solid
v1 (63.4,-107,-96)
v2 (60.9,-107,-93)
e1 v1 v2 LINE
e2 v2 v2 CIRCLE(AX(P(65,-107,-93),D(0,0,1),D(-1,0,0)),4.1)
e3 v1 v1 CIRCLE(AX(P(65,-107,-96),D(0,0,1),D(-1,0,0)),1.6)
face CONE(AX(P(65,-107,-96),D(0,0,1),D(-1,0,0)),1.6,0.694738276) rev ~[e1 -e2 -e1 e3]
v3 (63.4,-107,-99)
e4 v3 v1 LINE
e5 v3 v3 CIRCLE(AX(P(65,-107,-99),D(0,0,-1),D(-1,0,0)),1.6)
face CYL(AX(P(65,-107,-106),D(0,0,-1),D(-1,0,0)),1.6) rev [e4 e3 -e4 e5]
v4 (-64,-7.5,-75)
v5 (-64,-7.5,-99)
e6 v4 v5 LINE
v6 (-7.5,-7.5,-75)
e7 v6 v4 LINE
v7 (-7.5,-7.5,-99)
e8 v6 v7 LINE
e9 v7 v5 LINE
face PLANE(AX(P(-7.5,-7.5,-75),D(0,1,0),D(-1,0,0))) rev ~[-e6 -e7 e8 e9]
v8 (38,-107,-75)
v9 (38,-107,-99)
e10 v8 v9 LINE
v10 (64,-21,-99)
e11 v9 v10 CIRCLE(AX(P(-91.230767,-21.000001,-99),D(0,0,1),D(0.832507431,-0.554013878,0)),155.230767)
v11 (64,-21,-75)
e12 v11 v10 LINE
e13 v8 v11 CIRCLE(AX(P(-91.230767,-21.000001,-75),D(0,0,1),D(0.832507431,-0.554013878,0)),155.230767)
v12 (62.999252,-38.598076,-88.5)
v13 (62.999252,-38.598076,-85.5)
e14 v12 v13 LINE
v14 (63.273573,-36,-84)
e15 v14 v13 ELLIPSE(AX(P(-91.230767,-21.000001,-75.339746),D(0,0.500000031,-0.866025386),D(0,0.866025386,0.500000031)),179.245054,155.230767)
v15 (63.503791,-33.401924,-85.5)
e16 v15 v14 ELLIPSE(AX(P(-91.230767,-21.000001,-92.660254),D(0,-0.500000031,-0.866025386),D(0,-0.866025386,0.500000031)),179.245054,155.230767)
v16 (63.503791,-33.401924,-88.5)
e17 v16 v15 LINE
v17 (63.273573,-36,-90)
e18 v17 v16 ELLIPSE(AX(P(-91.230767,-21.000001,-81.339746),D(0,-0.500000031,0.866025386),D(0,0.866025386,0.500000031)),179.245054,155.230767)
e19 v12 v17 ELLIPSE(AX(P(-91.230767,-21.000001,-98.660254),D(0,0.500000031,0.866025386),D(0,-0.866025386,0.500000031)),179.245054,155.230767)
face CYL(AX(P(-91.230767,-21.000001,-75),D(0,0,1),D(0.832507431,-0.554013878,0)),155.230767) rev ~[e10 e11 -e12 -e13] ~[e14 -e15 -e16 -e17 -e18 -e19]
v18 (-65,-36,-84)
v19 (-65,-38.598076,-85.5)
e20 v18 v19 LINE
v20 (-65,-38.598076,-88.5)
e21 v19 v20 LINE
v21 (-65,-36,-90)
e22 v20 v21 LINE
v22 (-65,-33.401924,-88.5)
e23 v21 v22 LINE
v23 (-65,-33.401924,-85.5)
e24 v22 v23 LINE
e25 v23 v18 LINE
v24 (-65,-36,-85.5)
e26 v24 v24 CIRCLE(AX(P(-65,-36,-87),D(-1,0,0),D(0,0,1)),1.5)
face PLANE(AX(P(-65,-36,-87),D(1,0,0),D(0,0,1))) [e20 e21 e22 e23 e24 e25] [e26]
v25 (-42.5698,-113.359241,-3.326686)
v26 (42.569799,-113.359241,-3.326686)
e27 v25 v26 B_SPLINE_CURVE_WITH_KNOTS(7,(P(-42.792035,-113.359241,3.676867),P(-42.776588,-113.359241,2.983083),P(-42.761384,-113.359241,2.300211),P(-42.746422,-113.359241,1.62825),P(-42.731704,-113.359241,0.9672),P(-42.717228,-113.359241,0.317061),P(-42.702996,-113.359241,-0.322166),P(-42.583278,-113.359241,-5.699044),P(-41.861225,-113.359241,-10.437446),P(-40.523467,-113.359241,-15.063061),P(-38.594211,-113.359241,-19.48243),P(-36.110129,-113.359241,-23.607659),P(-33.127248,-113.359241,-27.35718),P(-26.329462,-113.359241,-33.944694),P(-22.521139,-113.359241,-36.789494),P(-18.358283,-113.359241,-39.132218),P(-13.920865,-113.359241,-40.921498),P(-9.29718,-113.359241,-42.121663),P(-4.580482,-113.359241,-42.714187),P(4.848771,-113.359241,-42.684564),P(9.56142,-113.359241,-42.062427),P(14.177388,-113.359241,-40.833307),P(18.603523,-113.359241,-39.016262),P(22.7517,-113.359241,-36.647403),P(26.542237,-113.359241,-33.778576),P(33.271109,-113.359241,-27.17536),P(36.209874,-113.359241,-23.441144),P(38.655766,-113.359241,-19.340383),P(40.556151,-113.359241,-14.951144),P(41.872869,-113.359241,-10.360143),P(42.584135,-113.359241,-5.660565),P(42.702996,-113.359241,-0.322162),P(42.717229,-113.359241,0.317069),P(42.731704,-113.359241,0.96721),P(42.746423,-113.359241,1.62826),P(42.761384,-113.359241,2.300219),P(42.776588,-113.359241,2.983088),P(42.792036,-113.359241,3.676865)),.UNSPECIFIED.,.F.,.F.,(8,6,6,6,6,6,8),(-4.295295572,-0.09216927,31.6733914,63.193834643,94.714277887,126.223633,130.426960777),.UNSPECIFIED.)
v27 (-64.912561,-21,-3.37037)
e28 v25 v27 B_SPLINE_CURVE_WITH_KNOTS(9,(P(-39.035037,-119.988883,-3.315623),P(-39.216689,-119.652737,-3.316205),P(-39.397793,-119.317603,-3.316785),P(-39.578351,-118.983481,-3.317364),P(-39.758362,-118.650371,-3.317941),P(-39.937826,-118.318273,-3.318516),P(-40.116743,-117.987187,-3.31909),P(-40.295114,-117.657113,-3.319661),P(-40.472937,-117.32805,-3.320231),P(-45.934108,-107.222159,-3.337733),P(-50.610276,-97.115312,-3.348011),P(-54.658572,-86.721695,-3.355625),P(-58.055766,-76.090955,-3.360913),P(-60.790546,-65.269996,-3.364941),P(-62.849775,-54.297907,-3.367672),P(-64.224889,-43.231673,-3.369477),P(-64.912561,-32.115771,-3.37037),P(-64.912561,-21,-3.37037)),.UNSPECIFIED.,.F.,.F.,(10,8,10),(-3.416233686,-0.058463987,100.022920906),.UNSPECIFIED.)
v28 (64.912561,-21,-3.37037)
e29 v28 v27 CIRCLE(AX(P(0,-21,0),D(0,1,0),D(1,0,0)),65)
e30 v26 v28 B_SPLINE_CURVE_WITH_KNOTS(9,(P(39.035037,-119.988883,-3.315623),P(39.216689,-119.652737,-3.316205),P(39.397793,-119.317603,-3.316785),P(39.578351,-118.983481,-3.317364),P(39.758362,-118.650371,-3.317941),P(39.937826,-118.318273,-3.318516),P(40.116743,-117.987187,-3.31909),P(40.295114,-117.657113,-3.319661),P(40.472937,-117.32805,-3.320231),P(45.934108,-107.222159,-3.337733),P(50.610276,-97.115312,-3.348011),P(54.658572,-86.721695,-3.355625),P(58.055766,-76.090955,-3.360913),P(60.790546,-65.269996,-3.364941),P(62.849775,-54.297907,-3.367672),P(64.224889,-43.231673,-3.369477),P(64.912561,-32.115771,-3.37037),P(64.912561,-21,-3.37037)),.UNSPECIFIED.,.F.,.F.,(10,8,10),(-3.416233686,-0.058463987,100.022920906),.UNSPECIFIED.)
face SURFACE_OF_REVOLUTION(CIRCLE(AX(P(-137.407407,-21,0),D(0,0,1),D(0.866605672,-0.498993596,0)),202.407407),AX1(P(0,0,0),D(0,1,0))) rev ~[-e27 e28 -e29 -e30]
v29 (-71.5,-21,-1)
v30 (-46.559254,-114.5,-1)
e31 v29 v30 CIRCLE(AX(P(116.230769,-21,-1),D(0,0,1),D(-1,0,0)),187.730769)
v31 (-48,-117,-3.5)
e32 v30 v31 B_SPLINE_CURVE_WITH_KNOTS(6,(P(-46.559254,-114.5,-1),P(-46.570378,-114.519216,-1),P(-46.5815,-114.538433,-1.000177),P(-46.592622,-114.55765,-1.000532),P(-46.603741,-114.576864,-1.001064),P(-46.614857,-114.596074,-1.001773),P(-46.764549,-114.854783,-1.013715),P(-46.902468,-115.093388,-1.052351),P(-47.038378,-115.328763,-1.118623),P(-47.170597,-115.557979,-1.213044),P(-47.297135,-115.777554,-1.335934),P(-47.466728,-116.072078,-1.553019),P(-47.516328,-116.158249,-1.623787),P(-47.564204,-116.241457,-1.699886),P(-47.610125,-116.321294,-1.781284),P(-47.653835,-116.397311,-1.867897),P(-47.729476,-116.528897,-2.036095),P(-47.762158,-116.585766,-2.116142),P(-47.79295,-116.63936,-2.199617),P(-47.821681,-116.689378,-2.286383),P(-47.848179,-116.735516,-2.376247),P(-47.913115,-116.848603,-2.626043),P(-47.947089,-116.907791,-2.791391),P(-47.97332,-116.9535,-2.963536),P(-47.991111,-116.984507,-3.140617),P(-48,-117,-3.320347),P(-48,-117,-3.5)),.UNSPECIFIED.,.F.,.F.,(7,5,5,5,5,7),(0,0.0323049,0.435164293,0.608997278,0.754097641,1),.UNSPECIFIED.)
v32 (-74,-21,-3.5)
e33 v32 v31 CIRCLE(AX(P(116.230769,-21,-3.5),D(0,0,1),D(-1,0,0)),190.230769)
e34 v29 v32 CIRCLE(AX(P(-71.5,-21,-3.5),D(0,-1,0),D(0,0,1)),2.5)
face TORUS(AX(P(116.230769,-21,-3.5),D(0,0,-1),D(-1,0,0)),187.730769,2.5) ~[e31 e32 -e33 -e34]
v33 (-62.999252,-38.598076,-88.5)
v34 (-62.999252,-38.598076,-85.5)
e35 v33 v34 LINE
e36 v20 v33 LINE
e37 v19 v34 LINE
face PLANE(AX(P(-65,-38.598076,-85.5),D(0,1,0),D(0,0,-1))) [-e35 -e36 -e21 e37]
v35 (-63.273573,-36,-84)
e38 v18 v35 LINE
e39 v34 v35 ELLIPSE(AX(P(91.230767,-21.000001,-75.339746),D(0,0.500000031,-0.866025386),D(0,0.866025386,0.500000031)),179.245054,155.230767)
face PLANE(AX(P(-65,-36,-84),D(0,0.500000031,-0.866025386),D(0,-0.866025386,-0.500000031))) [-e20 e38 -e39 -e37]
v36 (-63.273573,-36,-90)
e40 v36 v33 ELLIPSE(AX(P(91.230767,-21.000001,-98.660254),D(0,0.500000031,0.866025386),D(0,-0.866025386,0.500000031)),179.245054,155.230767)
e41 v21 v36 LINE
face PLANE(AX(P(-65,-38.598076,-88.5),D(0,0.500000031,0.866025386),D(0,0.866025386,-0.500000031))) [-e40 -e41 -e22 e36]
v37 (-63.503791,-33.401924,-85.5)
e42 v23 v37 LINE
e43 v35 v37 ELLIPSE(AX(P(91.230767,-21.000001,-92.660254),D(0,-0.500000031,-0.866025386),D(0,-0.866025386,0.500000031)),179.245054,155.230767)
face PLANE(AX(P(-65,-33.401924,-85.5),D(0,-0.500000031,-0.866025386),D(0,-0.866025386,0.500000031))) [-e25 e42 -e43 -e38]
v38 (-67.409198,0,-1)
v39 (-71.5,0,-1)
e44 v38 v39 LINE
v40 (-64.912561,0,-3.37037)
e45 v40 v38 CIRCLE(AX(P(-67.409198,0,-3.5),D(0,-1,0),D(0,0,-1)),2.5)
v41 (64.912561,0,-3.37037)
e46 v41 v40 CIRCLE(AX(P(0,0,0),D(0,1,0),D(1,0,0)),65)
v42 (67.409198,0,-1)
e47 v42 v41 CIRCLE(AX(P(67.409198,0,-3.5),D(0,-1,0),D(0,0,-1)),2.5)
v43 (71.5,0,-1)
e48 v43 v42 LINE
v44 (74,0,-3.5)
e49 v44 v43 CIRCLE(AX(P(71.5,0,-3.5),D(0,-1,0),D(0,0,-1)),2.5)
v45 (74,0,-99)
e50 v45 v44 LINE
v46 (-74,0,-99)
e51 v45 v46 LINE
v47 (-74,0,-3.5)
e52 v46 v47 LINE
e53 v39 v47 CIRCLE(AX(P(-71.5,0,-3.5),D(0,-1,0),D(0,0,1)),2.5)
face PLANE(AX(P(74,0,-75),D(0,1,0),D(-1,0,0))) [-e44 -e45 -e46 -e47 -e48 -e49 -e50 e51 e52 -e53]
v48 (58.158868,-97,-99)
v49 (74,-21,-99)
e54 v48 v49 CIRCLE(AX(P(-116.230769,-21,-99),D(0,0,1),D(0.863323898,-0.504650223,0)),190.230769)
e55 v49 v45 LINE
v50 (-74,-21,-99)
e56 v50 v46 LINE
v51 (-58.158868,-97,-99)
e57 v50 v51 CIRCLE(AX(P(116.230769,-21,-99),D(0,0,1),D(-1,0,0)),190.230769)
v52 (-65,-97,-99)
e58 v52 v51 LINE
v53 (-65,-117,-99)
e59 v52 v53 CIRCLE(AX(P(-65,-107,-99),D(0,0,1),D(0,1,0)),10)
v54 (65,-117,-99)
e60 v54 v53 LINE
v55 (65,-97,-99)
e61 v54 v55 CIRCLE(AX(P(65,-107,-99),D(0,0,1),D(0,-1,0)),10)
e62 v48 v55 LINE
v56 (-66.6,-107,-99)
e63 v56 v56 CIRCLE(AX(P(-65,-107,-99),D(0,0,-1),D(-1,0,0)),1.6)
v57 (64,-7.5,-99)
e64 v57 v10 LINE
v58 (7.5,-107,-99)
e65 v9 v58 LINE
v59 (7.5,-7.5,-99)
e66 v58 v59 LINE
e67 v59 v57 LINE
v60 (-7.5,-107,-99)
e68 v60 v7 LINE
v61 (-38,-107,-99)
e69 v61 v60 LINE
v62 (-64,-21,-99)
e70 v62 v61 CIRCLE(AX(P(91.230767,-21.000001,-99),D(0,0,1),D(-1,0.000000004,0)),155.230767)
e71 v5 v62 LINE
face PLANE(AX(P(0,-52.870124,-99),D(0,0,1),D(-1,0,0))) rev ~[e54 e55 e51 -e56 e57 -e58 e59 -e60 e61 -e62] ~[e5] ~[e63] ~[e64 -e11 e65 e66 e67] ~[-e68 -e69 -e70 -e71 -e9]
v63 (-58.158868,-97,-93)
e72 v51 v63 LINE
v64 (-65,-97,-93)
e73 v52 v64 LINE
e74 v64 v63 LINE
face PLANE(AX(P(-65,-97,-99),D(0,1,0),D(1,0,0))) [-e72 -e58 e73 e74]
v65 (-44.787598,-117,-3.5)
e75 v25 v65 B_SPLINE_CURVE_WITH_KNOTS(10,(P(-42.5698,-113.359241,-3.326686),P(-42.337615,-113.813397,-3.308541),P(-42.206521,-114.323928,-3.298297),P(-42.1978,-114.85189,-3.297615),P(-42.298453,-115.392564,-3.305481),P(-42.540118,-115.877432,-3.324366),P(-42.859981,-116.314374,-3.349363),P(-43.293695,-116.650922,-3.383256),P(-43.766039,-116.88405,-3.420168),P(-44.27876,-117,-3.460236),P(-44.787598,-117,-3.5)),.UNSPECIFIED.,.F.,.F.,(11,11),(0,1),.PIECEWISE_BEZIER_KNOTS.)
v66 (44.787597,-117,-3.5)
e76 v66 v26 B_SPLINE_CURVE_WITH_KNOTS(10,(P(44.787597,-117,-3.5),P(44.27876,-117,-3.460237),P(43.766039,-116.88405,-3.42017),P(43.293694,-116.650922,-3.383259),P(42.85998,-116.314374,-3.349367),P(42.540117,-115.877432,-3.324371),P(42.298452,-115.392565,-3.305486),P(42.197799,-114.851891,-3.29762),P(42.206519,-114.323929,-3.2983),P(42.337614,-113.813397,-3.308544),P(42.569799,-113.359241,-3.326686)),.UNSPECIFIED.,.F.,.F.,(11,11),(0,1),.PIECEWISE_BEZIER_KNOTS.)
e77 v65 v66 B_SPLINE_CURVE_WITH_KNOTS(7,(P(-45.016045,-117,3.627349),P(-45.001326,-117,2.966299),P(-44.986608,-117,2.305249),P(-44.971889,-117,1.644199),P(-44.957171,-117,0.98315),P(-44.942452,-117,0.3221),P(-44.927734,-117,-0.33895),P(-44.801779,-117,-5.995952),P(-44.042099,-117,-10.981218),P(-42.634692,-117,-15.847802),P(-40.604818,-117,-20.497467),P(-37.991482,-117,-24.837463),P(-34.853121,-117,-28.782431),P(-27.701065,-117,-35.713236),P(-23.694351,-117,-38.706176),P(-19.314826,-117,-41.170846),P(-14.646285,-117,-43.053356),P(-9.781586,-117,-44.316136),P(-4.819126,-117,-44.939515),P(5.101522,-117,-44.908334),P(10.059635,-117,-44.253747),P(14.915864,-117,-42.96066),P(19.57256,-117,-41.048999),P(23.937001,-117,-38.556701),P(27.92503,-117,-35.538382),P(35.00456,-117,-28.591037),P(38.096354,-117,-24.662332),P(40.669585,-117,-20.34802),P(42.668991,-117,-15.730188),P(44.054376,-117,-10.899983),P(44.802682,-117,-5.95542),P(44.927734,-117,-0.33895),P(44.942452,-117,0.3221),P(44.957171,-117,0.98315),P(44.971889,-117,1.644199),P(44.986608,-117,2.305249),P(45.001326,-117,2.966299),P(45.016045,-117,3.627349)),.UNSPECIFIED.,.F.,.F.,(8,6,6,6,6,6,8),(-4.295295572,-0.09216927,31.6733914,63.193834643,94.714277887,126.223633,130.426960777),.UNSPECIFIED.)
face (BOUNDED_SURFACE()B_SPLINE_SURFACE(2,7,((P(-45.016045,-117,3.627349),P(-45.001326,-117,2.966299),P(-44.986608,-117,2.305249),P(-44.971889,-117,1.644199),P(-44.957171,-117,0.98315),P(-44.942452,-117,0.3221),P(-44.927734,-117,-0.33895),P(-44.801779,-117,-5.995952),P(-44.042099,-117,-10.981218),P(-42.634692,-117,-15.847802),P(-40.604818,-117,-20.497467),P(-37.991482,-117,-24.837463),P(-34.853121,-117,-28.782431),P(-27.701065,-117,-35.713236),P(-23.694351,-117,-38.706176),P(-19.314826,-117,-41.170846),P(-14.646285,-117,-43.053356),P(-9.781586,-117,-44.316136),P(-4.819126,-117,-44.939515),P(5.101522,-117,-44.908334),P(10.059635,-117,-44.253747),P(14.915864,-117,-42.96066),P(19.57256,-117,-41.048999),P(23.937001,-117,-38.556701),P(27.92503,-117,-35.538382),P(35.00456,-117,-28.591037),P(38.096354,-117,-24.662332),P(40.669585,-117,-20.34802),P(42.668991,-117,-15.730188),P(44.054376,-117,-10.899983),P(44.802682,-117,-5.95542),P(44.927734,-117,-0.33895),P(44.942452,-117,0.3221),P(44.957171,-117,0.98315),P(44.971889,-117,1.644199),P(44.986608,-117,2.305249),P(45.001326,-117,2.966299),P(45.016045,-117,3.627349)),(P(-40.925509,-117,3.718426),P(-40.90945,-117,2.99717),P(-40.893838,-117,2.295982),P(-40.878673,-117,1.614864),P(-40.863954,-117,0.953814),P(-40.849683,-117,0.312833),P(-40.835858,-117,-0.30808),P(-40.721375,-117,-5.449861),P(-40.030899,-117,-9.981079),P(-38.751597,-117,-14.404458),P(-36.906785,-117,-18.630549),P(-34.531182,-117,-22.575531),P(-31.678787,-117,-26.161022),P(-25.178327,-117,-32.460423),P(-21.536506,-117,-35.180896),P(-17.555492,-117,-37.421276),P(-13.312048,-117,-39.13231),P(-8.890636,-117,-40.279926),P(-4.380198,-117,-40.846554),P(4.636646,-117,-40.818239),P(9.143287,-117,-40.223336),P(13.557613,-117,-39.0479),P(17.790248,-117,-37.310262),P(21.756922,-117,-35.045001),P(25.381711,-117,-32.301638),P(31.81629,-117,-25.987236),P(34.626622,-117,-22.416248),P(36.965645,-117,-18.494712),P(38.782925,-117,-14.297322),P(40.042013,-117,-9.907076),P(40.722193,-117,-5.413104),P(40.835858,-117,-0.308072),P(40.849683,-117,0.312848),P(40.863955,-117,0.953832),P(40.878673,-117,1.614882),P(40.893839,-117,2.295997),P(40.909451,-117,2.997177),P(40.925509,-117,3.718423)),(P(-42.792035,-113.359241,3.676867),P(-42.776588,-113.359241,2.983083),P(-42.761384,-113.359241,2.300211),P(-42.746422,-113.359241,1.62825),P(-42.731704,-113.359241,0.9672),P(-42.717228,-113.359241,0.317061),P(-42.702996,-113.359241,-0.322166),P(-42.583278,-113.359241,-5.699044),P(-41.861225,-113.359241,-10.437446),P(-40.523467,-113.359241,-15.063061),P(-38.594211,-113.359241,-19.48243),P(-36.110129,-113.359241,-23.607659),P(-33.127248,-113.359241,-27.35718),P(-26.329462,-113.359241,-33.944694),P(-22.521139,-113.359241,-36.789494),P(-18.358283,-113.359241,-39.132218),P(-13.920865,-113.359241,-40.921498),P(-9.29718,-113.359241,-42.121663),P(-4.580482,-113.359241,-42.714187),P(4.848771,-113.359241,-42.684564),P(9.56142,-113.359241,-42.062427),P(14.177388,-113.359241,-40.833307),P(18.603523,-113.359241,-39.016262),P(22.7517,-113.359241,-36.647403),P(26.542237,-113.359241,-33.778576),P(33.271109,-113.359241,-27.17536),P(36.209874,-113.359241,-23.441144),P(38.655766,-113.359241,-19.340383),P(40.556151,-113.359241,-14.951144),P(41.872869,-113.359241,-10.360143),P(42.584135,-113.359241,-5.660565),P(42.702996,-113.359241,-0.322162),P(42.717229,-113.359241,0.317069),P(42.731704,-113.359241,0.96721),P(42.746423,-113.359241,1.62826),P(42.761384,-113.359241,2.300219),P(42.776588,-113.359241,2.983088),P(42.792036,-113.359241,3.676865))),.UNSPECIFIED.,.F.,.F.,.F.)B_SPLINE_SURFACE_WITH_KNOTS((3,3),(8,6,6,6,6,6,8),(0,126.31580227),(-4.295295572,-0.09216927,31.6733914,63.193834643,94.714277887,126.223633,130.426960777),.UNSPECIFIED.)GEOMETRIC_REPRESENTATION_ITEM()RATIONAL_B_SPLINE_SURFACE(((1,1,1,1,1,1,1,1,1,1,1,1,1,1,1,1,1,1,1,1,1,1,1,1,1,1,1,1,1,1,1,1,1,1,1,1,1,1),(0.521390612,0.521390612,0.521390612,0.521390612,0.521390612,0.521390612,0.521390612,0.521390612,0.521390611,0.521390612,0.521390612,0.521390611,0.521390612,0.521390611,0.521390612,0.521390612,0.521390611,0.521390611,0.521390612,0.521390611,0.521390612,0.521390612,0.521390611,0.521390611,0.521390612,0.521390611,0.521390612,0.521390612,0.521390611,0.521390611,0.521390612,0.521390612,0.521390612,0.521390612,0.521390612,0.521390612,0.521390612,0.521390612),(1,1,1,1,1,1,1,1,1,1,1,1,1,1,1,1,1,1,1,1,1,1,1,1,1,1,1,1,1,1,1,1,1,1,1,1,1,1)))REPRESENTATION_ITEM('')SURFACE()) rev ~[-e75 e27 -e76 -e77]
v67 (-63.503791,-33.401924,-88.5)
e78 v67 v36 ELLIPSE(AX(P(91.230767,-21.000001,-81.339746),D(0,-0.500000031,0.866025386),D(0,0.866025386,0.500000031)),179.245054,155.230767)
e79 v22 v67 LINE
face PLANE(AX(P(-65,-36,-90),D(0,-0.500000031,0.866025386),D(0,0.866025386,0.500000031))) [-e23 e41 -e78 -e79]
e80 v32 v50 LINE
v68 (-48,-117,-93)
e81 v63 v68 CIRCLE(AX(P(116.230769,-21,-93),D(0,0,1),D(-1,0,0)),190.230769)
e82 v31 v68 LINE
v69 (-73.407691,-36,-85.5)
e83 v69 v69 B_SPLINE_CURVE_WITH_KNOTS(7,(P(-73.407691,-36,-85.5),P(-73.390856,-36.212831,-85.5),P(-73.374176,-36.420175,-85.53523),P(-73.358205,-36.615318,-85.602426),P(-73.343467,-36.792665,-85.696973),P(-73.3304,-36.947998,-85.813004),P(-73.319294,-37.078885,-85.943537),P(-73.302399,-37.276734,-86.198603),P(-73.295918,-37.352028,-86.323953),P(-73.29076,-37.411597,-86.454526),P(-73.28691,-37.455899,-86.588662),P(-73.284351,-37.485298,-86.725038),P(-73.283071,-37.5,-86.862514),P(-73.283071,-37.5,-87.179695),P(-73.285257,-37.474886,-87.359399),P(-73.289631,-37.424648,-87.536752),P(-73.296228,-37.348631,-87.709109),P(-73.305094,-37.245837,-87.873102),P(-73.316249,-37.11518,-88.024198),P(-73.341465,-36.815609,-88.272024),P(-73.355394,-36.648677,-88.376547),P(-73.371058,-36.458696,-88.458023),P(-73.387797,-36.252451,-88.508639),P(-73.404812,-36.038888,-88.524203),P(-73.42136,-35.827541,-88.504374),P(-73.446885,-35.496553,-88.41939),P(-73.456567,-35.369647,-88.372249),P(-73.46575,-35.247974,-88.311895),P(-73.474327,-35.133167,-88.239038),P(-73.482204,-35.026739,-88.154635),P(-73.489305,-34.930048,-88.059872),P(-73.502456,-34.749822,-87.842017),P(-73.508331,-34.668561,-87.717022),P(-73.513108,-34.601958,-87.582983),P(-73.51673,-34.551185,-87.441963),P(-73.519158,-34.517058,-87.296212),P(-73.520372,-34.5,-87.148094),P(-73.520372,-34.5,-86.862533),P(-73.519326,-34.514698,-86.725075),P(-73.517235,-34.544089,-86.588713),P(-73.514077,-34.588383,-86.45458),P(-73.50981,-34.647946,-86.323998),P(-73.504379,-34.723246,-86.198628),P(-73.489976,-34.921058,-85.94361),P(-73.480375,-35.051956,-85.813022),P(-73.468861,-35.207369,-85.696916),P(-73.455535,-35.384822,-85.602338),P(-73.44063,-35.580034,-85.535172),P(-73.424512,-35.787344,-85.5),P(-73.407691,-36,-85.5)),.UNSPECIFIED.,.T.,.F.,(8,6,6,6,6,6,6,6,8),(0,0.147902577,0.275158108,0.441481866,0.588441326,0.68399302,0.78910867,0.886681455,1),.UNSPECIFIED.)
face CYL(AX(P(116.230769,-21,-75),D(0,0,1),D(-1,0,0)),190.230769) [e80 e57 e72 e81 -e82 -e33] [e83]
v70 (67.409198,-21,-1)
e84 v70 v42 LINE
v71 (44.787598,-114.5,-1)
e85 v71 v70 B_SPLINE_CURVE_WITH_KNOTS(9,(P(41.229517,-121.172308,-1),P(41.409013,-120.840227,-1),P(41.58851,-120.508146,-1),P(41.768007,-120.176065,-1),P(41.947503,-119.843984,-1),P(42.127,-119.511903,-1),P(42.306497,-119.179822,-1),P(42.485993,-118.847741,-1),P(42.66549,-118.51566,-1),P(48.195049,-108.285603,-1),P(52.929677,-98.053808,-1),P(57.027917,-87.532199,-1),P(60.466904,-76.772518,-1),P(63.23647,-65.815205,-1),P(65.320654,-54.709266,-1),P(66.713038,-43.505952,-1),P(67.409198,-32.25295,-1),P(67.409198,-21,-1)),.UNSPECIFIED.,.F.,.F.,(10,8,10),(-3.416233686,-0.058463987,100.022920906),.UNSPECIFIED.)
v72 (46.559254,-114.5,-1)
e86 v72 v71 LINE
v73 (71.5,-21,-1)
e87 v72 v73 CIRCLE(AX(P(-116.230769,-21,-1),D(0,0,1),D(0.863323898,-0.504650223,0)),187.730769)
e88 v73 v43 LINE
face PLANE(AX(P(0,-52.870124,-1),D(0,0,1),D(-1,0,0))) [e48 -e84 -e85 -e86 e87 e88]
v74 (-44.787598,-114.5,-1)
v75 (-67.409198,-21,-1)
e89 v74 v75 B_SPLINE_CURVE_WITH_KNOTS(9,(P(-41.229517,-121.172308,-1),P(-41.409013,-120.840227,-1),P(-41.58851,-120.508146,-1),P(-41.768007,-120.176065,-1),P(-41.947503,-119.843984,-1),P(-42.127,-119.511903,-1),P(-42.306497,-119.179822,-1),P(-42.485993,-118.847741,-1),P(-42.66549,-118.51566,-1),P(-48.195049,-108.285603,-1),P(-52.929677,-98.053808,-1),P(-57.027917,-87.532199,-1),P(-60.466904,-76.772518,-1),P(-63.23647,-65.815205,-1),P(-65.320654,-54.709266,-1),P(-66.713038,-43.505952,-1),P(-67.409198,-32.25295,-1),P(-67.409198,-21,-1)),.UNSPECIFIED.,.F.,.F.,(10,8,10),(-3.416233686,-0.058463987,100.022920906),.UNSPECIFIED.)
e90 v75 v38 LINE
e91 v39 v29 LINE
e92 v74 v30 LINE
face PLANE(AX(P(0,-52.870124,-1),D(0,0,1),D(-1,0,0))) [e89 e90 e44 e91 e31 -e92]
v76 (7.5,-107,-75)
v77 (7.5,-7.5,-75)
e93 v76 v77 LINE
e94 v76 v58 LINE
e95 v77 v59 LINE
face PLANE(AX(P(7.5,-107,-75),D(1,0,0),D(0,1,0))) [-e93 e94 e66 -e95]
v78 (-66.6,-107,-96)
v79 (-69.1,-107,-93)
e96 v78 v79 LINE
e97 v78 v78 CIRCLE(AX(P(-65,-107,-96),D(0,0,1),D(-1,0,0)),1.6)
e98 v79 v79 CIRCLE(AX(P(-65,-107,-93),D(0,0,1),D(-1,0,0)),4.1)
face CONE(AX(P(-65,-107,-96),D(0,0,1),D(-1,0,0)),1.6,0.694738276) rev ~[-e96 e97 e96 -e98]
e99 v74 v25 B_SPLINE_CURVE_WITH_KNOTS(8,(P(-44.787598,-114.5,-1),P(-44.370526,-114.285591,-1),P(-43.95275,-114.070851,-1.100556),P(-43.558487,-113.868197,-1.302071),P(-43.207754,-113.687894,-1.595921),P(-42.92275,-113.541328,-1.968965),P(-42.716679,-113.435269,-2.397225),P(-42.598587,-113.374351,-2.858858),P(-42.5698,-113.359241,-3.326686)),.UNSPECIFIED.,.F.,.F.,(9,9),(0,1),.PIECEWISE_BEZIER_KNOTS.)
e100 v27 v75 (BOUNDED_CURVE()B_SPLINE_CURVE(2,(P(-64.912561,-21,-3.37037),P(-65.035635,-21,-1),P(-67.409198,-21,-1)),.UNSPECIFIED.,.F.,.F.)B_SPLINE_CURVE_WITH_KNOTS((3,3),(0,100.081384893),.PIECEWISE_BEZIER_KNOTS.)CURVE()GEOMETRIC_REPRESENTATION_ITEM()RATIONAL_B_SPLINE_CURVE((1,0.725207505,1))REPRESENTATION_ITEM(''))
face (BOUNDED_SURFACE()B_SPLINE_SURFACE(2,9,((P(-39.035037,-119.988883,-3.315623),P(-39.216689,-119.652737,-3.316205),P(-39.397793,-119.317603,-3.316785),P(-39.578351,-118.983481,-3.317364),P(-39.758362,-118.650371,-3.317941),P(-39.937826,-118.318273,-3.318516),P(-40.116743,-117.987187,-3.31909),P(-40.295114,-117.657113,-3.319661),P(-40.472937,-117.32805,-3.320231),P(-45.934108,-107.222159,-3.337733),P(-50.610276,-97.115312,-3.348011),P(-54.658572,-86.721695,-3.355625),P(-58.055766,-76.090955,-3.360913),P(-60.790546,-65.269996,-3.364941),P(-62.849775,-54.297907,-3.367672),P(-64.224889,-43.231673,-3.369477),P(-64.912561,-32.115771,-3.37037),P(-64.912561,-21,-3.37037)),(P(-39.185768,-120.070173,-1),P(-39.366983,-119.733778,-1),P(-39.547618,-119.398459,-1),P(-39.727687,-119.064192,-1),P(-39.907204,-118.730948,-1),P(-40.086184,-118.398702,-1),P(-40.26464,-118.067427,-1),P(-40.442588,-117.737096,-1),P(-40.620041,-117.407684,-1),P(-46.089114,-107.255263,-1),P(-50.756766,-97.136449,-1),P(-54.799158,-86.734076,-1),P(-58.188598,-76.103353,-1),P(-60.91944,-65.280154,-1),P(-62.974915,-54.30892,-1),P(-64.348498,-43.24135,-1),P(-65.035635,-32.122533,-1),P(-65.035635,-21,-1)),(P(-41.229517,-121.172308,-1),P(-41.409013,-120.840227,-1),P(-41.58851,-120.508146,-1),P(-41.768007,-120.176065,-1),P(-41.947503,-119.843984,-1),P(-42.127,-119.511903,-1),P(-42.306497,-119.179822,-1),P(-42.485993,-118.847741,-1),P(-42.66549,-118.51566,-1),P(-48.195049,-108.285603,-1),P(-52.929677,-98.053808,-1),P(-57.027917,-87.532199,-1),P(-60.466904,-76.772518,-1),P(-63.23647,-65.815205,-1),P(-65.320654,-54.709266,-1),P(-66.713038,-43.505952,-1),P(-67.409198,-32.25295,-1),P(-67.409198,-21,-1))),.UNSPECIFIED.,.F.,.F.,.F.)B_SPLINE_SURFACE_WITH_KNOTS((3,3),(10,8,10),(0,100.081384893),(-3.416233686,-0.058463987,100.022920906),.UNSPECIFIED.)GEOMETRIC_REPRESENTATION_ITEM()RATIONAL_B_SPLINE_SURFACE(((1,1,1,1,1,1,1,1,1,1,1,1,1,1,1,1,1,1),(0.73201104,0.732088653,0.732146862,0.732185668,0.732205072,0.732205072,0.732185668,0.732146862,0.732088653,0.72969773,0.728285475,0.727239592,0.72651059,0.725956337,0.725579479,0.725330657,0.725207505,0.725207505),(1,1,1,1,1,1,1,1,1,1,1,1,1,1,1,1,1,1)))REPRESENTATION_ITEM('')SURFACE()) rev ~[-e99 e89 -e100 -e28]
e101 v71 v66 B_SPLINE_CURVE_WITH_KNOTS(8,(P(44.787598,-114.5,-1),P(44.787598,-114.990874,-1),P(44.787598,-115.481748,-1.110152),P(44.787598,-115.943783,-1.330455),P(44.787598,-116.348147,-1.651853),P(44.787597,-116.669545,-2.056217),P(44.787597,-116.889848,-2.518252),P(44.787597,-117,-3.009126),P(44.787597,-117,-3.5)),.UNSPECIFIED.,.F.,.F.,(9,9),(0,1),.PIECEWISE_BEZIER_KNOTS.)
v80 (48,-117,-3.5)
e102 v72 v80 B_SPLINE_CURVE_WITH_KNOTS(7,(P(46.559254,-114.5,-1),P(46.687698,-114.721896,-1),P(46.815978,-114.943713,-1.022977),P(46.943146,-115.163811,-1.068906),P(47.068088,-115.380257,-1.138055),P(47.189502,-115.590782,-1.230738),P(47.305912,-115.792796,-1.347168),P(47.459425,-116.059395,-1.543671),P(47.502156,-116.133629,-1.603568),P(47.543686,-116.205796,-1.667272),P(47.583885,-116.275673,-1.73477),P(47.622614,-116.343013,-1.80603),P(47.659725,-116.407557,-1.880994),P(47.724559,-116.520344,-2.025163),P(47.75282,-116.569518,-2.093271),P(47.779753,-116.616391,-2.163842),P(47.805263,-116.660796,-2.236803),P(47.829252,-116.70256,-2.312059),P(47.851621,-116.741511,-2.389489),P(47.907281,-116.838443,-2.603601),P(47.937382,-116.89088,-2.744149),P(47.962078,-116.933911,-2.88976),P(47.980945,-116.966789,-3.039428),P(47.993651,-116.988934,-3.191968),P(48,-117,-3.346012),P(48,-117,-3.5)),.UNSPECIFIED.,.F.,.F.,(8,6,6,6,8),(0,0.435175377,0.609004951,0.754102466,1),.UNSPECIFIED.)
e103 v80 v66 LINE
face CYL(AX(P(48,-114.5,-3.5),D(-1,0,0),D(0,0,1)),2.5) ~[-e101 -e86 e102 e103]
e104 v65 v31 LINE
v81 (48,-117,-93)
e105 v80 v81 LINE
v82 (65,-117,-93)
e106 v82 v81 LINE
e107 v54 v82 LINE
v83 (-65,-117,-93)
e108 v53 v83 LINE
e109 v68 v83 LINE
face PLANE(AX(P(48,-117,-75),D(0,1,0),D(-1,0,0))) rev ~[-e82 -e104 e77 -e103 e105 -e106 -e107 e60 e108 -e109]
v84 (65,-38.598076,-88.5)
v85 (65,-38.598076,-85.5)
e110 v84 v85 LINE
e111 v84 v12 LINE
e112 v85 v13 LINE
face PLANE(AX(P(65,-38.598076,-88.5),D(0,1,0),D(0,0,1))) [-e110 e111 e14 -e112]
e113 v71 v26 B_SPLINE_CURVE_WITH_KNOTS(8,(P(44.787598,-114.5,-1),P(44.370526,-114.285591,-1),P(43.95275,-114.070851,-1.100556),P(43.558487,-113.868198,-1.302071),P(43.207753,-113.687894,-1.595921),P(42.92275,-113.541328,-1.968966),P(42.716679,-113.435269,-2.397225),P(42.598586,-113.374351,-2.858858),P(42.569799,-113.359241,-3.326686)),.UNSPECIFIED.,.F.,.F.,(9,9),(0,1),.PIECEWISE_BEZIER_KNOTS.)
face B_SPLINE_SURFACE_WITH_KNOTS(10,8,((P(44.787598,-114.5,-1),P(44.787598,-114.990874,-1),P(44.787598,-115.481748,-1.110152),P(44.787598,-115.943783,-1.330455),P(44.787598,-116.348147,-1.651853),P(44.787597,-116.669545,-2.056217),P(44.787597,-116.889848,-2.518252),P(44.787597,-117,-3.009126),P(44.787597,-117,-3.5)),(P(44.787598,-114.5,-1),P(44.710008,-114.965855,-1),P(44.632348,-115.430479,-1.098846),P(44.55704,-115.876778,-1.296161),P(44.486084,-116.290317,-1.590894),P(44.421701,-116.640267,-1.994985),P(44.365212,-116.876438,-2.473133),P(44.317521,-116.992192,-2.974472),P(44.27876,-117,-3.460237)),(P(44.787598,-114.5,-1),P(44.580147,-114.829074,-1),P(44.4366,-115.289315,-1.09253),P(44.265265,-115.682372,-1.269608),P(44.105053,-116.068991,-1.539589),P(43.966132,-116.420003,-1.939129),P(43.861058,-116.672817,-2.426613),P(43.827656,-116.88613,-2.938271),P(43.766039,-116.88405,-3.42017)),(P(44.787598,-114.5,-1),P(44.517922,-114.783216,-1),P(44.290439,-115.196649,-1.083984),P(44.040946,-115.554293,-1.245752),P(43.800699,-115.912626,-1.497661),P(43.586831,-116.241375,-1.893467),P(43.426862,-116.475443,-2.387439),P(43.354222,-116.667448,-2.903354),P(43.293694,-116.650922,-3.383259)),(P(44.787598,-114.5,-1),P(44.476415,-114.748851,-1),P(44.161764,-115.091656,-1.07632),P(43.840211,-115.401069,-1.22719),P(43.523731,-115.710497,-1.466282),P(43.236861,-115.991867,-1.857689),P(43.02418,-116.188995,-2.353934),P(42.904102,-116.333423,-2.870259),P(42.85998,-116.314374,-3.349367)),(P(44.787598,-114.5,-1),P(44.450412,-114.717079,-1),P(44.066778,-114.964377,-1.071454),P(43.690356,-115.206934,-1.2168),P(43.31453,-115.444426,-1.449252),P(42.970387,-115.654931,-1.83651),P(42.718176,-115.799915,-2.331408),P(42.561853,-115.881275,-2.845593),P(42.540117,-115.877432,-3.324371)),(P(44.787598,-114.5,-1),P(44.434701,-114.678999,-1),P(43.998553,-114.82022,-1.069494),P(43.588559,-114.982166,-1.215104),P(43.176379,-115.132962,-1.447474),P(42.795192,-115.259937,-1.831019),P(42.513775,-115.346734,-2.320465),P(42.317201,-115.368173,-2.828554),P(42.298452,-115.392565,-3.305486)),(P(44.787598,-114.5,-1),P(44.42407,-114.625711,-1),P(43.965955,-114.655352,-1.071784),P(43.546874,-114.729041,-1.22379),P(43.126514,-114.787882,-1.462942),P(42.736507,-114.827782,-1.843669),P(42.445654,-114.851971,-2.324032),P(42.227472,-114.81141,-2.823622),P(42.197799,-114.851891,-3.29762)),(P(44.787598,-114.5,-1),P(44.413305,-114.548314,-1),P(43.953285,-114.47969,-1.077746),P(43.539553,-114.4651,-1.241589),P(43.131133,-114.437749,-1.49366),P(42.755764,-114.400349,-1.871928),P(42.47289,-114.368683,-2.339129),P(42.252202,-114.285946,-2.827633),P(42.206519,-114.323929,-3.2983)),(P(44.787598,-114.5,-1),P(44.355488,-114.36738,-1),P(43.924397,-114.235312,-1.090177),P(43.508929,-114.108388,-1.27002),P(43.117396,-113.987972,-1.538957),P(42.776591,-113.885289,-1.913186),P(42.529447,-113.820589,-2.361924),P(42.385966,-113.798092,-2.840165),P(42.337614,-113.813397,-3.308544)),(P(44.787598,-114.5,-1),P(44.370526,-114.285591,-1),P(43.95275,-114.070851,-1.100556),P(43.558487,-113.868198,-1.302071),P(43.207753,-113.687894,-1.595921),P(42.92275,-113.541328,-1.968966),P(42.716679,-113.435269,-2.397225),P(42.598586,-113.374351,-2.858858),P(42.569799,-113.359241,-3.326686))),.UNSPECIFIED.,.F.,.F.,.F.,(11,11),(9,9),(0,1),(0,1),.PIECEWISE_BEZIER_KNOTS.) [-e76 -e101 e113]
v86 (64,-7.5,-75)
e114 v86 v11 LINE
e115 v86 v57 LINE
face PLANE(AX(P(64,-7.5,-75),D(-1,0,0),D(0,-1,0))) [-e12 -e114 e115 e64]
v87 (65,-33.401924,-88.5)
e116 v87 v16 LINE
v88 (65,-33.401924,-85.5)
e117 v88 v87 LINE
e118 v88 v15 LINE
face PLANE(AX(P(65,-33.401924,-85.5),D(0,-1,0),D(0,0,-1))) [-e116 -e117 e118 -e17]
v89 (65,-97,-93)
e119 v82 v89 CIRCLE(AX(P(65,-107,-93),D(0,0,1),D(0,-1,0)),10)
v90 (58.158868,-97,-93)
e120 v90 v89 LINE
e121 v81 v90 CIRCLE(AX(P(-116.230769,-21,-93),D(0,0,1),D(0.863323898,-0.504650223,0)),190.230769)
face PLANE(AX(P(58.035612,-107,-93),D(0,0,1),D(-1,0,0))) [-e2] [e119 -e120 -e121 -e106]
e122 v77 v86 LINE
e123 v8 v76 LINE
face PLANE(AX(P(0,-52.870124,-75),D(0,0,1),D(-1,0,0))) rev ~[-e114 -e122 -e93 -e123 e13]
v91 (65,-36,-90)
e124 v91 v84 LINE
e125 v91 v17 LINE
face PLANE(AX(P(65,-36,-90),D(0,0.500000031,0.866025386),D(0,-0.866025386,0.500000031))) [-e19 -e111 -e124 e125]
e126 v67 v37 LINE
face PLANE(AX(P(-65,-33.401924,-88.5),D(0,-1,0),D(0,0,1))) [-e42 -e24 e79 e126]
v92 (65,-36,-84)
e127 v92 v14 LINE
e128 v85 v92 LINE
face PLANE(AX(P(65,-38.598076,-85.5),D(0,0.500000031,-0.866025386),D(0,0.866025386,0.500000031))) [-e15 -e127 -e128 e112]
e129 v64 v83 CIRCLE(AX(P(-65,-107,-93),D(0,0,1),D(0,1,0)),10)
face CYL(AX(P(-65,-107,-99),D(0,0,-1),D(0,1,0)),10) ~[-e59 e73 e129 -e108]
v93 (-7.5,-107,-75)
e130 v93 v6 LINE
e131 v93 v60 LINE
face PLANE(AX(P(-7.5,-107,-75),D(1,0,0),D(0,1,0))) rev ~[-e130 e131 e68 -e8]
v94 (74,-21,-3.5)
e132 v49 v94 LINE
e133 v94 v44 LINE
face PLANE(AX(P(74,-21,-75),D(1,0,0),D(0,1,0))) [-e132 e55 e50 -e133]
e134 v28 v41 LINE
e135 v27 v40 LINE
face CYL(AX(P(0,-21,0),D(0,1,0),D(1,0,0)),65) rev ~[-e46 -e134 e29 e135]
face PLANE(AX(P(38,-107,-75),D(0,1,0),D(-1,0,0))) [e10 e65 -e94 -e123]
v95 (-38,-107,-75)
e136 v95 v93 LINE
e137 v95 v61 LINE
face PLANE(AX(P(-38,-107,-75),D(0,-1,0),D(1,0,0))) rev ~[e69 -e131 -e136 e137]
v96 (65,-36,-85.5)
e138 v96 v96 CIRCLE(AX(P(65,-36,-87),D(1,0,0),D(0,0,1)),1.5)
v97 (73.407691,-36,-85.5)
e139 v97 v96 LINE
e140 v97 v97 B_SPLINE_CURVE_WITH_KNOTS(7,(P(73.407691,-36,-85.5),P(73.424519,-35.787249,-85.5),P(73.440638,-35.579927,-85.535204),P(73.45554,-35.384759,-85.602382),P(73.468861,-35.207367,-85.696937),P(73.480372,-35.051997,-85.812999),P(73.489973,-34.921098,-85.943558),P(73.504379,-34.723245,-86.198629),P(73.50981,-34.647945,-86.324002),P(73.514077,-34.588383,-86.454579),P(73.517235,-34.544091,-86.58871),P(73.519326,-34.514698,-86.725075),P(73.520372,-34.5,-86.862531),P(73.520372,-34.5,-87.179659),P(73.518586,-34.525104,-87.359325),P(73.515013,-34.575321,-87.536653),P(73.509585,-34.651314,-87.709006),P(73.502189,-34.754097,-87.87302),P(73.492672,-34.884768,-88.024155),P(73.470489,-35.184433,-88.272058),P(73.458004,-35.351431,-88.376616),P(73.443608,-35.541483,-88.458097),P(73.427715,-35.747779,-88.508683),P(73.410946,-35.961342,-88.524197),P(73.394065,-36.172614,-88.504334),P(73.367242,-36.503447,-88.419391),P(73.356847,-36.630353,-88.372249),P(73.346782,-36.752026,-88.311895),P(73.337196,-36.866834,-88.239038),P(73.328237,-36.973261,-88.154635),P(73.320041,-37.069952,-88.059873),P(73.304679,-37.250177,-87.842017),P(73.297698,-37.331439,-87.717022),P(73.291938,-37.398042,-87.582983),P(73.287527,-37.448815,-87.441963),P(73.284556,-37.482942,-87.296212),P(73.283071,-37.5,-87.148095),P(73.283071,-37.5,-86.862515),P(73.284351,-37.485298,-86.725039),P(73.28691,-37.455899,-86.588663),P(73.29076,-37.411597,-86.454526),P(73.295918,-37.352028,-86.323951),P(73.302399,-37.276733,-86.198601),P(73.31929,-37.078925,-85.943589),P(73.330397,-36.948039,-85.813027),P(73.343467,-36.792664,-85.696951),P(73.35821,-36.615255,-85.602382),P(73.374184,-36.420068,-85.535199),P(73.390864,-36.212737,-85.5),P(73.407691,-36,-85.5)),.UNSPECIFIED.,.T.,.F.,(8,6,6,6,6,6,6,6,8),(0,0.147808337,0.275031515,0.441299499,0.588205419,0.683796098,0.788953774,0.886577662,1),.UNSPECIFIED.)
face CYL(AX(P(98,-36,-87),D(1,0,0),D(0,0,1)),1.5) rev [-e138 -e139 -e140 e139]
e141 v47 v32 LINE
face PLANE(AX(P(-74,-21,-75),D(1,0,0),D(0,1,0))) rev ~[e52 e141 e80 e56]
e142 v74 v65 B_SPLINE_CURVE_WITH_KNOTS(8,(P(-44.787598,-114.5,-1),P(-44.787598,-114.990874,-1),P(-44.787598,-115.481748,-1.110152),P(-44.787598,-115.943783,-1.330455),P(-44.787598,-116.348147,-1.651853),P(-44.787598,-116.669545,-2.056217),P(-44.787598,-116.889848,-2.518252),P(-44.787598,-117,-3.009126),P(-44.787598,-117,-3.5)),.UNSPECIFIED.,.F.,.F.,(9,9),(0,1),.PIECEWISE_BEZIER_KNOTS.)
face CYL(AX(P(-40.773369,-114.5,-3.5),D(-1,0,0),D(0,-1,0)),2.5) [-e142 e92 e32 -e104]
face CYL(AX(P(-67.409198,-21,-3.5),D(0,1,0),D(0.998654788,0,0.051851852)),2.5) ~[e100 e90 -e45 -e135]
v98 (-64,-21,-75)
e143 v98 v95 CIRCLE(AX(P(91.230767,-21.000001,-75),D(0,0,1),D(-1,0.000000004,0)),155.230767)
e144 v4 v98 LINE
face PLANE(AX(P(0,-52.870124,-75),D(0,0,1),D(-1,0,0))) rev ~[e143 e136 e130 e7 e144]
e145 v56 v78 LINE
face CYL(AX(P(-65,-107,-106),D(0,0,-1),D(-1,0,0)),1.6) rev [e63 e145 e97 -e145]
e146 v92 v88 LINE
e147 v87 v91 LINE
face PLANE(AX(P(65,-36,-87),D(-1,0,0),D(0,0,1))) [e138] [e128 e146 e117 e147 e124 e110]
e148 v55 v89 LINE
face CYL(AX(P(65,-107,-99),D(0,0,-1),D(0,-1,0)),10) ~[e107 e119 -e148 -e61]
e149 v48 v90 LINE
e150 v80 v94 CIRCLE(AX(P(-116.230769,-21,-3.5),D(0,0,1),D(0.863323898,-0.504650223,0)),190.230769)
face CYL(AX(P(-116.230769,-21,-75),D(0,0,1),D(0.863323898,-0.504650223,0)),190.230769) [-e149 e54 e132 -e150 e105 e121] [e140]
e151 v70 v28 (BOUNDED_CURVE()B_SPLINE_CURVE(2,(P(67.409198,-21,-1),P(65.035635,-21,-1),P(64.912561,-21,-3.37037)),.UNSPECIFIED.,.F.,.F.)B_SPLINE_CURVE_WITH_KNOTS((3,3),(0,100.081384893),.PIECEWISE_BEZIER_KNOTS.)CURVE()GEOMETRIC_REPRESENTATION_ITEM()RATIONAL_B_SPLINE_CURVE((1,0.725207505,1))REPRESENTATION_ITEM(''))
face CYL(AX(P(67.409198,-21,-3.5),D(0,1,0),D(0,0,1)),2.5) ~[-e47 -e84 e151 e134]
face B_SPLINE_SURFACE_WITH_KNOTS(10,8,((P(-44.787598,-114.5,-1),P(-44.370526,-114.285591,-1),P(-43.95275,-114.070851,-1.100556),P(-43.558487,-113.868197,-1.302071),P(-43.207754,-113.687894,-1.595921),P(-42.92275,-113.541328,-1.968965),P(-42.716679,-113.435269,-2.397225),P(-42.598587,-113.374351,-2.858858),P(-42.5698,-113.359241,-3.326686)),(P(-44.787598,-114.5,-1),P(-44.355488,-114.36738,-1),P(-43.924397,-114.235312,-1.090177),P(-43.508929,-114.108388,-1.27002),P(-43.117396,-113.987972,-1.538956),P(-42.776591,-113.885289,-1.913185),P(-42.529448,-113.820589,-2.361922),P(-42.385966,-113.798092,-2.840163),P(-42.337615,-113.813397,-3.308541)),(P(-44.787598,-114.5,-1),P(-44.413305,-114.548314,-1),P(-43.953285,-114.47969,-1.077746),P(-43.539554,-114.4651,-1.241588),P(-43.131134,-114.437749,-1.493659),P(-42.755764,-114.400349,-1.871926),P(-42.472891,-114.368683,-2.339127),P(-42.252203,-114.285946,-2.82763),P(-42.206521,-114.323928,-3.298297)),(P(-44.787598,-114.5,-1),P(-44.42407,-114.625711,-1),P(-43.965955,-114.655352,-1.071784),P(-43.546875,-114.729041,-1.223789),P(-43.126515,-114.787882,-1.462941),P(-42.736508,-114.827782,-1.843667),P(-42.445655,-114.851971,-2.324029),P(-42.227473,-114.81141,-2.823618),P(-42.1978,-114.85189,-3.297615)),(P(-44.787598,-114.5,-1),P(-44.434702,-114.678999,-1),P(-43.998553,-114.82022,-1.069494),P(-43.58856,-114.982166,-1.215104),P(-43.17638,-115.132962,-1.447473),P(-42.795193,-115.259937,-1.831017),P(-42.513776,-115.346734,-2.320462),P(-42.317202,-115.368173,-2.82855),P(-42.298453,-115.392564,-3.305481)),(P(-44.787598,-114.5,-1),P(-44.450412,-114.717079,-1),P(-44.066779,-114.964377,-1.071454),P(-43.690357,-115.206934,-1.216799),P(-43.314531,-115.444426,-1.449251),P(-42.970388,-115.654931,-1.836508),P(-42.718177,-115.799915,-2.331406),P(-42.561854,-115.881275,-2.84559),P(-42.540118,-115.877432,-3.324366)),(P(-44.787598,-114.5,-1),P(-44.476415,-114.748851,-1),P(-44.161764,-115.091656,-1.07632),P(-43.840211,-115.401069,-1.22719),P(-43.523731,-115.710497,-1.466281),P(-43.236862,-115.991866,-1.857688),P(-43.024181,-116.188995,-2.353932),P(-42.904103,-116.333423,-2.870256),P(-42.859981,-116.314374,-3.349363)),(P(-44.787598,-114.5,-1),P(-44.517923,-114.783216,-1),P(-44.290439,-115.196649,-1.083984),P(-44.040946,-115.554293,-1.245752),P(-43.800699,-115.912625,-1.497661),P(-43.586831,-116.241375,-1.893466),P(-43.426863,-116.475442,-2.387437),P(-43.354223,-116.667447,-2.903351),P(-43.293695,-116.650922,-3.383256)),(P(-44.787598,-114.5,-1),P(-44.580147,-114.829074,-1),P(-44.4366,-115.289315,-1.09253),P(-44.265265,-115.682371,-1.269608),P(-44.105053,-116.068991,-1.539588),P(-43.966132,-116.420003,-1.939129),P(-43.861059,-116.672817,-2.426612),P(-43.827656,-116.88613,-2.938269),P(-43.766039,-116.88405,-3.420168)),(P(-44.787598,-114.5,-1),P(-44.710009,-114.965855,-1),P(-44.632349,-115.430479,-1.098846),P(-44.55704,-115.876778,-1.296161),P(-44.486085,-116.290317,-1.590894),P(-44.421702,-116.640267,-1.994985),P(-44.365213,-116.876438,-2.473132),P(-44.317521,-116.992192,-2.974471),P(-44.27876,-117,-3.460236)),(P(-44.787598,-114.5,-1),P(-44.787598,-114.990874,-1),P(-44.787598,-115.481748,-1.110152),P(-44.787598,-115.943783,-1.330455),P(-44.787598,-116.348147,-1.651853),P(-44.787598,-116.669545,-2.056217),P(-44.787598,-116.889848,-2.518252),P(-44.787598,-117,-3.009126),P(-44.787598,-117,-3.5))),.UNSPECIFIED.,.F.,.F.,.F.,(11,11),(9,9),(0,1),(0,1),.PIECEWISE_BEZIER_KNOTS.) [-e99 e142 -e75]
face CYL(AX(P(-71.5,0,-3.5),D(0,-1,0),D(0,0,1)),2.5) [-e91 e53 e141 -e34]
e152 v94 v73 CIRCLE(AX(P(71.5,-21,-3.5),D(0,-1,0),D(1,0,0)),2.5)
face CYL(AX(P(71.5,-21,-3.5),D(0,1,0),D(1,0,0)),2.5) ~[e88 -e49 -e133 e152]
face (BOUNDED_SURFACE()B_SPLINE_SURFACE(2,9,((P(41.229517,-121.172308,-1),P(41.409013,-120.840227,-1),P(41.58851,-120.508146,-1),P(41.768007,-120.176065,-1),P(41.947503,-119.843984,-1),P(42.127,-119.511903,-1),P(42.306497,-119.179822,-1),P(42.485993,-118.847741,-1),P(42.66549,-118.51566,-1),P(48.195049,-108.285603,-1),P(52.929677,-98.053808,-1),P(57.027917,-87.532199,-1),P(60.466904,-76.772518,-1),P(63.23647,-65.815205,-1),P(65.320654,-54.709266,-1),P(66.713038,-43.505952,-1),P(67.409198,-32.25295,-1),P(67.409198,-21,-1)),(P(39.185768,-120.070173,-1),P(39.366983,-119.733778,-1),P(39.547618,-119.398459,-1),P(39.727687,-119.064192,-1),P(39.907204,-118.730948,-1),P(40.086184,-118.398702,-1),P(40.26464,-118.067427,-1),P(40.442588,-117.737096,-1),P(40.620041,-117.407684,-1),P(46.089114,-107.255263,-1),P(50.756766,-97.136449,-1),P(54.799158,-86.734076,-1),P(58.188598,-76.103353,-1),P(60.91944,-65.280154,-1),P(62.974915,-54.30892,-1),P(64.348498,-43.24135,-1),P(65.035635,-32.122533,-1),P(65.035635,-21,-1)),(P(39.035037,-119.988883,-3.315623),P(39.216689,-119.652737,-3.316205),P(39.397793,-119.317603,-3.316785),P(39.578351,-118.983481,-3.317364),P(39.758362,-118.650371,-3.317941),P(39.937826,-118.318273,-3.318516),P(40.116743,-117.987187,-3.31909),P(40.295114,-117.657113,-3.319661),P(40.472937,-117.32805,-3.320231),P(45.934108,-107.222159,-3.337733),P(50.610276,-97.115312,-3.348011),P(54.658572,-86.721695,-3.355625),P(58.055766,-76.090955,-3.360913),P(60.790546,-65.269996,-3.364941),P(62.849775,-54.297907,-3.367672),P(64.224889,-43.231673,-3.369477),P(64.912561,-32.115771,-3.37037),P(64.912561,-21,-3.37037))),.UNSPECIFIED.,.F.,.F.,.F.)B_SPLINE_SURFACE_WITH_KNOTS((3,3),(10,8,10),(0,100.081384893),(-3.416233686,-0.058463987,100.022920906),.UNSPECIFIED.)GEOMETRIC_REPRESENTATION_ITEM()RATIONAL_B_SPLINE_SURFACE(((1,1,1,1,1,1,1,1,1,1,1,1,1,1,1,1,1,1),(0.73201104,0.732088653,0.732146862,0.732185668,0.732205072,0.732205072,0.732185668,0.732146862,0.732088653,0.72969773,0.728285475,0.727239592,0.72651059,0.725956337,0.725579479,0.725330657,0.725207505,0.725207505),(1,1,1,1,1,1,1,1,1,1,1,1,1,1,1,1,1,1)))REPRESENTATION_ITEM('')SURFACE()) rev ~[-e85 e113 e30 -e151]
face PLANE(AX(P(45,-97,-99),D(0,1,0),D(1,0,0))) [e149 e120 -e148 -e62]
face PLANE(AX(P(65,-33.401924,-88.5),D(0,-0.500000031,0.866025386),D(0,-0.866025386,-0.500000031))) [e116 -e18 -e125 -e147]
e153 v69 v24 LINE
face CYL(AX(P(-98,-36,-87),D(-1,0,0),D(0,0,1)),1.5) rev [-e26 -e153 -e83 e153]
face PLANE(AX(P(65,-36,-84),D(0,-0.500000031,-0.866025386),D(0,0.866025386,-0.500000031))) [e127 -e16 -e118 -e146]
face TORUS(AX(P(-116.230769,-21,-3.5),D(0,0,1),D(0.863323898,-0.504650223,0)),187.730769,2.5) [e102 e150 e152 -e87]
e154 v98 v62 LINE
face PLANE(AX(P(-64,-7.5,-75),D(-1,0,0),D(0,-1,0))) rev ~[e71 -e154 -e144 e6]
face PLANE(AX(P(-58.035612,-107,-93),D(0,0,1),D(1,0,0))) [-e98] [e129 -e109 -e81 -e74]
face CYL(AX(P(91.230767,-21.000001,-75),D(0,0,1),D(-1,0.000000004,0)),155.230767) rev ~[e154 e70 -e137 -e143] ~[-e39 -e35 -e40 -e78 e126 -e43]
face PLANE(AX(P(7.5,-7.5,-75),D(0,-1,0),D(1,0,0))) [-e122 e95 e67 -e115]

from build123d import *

# Parameters (mm, degrees)
CYLINDER063_R              = 1.6
CYLINDER063_DEPTH          = 10
EXTRUDE027_DEPTH           = 6
EXTRUDE030_DEPTH           = 6
EXTRUDE030_PLACEMENT_ANGLE = 180
CYLINDER072_R              = 1.5
CYLINDER072_DEPTH          = 45
PRISM011_DEPTH             = 3
CYLINDER071_R              = 3
CYLINDER071_DEPTH          = 5
FUSION063_PLACEMENT_ANGLE  = 180
CYLINDER070_R              = 1.5
CYLINDER070_DEPTH          = 45
PRISM010_DEPTH             = 3
CYLINDER068_R              = 3
CYLINDER068_DEPTH          = 5
EXTRUDE026_DEPTH           = 24
REVOLVE001_ANGLE           = 180
EXTRUDE025_DEPTH           = 74
FILLET004_R                = 2.5
FUSION064_PLACEMENT_ANGLE  = 180


with BuildPart() as cono003:
    # Cone003 → Cone003 (revolve)
    with BuildSketch(Plane(origin=(0, 0, -96), x_dir=(1, 0, 0), z_dir=(0, -1, 0))):
        Polygon((0, 0), (1.6, 0), (4.1, 3), (0, 3), align=None)
    revolve(axis=Axis((0, 0, -96), (0, 0, 1)))


with BuildPart() as cilindro063:
    # Cylinder063 → Cylinder063 (new body)
    with BuildSketch(Plane.XY.offset(-106)):
        Circle(CYLINDER063_R)
    extrude(amount=CYLINDER063_DEPTH)


with BuildPart() as fusion058:
    # Fusion058 base: copy of Cilindro063
    add(cilindro063.part)

    # Fusion058: union Cono003
    add(cono003.part)


with BuildPart() as fusion058_1:
    # Fusion058 placement: moved
    add(fusion058.part.moved(Location((65, 107, 0))))


with BuildPart() as fusion059:
    # Fusion057 base: copy of Cilindro063
    add(cilindro063.part)

    # Fusion057: union Cono003
    add(cono003.part)


with BuildPart() as fusion059_1:
    # Fusion057 placement: moved
    add(fusion059.part.moved(Location((-65, 107, 0))))

    # Fusion059: union Fusion058
    add(fusion058_1.part)


with BuildPart() as extrude027:
    # Sketch020 → Extrude027 (new body)
    with BuildSketch(Plane.XY.offset(-99)):
        with BuildLine():
            ThreePointArc((0, 10), (-10, 0), (0, -10))
            Line((20, -10), (0, -10))
            Line((20, 10), (20, -10))
            Line((0, 10), (20, 10))
        make_face()
    extrude(amount=EXTRUDE027_DEPTH)


with BuildPart() as extrude027_1:
    # Extrude027 placement: moved
    add(extrude027.part.moved(Location((-65, 107, 0))))


with BuildPart() as cut022:
    # Sketch020 → Extrude030 (new body)
    with BuildSketch(Plane.XY.offset(-99)):
        with BuildLine():
            ThreePointArc((0, 10), (-10, 0), (0, -10))
            Line((20, -10), (0, -10))
            Line((20, 10), (20, -10))
            Line((0, 10), (20, 10))
        make_face()
    extrude(amount=EXTRUDE030_DEPTH)


with BuildPart() as cut022_1:
    # Extrude030 placement: moved
    add(cut022.part.moved(Location((65, 107, 0))).rotate(Axis((65, 107, 0), (0, 0, 1)), EXTRUDE030_PLACEMENT_ANGLE))

    # Fusion055: union Extrude027
    add(extrude027_1.part)

    # Cut022: cut Fusion059
    add(fusion059_1.part, mode=Mode.SUBTRACT)


with BuildPart() as cilindro072:
    # Cylinder072 → Cylinder072 (new body)
    with BuildSketch(Plane(origin=(33, 0, -87), x_dir=(0, 0, 1), z_dir=(-1, 0, 0))):
        Circle(CYLINDER072_R)
    extrude(amount=CYLINDER072_DEPTH)


with BuildPart() as prisma011:
    # Prism011 → Prism011 (new body)
    with BuildSketch(Plane(origin=(0, 0, -87), x_dir=(0, 0, 1), z_dir=(-1, 0, 0))):
        Polygon((3, 0), (1.5, 2.598076), (-1.5, 2.598076), (-3, 0), (-1.5, -2.598076), (1.5, -2.598076), align=None)
    extrude(amount=PRISM011_DEPTH)


with BuildPart() as fusion063:
    # Cylinder071 → Cylinder071 (new body)
    with BuildSketch(Plane(origin=(24, 0, -87), x_dir=(0, 0, 1), z_dir=(-1, 0, 0))):
        Circle(CYLINDER071_R)
    extrude(amount=CYLINDER071_DEPTH)

    # Fusion063: union Cilindro072, Prisma011
    add(cilindro072.part)
    add(prisma011.part)


with BuildPart() as fusion063_1:
    # Fusion063 placement: moved
    add(fusion063.part.moved(Location((-65, 36, 0))).rotate(Axis((-65, 36, 0), (0, 0, 1)), FUSION063_PLACEMENT_ANGLE))


with BuildPart() as cilindro070:
    # Cylinder070 → Cylinder070 (new body)
    with BuildSketch(Plane(origin=(98, 36, -87), x_dir=(0, 0, 1), z_dir=(-1, 0, 0))):
        Circle(CYLINDER070_R)
    extrude(amount=CYLINDER070_DEPTH)


with BuildPart() as prisma010:
    # Prism010 → Prism010 (new body)
    with BuildSketch(Plane(origin=(65, 36, -87), x_dir=(0, 0, 1), z_dir=(-1, 0, 0))):
        Polygon((3, 0), (1.5, 2.598076), (-1.5, 2.598076), (-3, 0), (-1.5, -2.598076), (1.5, -2.598076), align=None)
    extrude(amount=PRISM010_DEPTH)


with BuildPart() as fusion061:
    # Cylinder068 → Cylinder068 (new body)
    with BuildSketch(Plane(origin=(89, 36, -87), x_dir=(0, 0, 1), z_dir=(-1, 0, 0))):
        Circle(CYLINDER068_R)
    extrude(amount=CYLINDER068_DEPTH)

    # Fusion062: union Cilindro070, Prisma010
    add(cilindro070.part)
    add(prisma010.part)

    # Fusion061: union Fusion063
    add(fusion063_1.part)


with BuildPart() as cut023:
    # Sketch019 → Extrude026 (new body)
    with BuildSketch(Plane.XY.offset(-75)):
        with BuildLine():
            ThreePointArc((-48, 117), (-67.384986, 70.729267), (-74, 21))
            Line((-74, 21), (-74, 0))
            Line((-74, 0), (74, 0))
            Line((74, 21), (74, 0))
            ThreePointArc((74, 21), (67.384986, 70.729267), (48, 117))
            Line((-48, 117), (48, 117))
        make_face()
        with BuildLine():
            Line((-38, 107), (-7.5, 107))
            Line((-7.5, 107), (-7.5, 7.5))
            Line((-7.5, 7.5), (-64, 7.5))
            Line((-64, 7.5), (-64, 21))
            ThreePointArc((-38, 107), (-57.357897, 65.922155), (-64, 21))
        make_face(mode=Mode.SUBTRACT)
        with BuildLine():
            Line((7.5, 107), (7.5, 7.5))
            Line((7.5, 7.5), (64, 7.5))
            Line((64, 7.5), (64, 21))
            ThreePointArc((64, 21), (57.357897, 65.922155), (38, 107))
            Line((38, 107), (7.5, 107))
        make_face(mode=Mode.SUBTRACT)
    extrude(amount=-EXTRUDE026_DEPTH)

    # Cut023: cut Fusion061
    add(fusion061.part, mode=Mode.SUBTRACT)


with BuildPart() as revolve001:
    # Sketch017 → Revolve001 (revolve)
    with BuildSketch(Plane.XY):
        with BuildLine():
            Line((-65, 21), (-65, -21))
            ThreePointArc((-65, -21), (-58.133531, -73.27332), (-38, -122))
            Line((-38, -122), (0, -122))
            Line((0, 122), (0, -122))
            Line((0, 122), (-38, 122))
            ThreePointArc((-38, 122), (-58.133531, 73.27332), (-65, 21))
        make_face()
    revolve(axis=Axis((0, 0, 0), (0, -1, 0)), revolution_arc=REVOLVE001_ANGLE)


with BuildPart() as soporte_balon002:
    # Sketch018 → Extrude025 (new body)
    with BuildSketch(Plane.XY):
        with BuildLine():
            Line((-74, 21), (-74, 0))
            Line((-74, 0), (74, 0))
            Line((74, 21), (74, 0))
            ThreePointArc((74, 21), (67.384986, 70.729267), (48, 117))
            Line((-48, 117), (48, 117))
            ThreePointArc((-48, 117), (-67.384986, 70.729267), (-74, 21))
        make_face()
    extrude(amount=-EXTRUDE025_DEPTH)


with BuildPart() as soporte_balon002_1:
    # Extrude025 placement: moved
    add(soporte_balon002.part.moved(Location((0, 0, -1))))

    # Cut021: cut Revolve001
    add(revolve001.part, mode=Mode.SUBTRACT)

    # Fillet004
    fillet004_edges = [soporte_balon002_1.edges().sort_by_distance(p)[0] for p in [
        (67.384986, 70.729267, -1),
        (74, 10.5, -1),
        (44.386684, 117, -1),
        (0, 117, -40.78563),
        (-44.386684, 117, -1),
        (64.992307, 10.5, -1),
        (58.844411, 70.504014, -1),
        (-58.844411, 70.504014, -1),
        (-64.992307, 10.5, -1),
        (-74, 10.5, -1),
        (-67.384986, 70.729267, -1),
    ]]
    fillet(fillet004_edges, radius=FILLET004_R)

    # Fusion064: union Cut022, Cut023
    add(cut022_1.part)
    add(cut023.part)


with BuildPart() as soporte_balon002_2:
    # Fusion064 placement: moved
    add(soporte_balon002_1.part.rotate(Axis((0, 0, 0), (0, 0, 1)), FUSION064_PLACEMENT_ANGLE))


solid = soporte_balon002_2.part
